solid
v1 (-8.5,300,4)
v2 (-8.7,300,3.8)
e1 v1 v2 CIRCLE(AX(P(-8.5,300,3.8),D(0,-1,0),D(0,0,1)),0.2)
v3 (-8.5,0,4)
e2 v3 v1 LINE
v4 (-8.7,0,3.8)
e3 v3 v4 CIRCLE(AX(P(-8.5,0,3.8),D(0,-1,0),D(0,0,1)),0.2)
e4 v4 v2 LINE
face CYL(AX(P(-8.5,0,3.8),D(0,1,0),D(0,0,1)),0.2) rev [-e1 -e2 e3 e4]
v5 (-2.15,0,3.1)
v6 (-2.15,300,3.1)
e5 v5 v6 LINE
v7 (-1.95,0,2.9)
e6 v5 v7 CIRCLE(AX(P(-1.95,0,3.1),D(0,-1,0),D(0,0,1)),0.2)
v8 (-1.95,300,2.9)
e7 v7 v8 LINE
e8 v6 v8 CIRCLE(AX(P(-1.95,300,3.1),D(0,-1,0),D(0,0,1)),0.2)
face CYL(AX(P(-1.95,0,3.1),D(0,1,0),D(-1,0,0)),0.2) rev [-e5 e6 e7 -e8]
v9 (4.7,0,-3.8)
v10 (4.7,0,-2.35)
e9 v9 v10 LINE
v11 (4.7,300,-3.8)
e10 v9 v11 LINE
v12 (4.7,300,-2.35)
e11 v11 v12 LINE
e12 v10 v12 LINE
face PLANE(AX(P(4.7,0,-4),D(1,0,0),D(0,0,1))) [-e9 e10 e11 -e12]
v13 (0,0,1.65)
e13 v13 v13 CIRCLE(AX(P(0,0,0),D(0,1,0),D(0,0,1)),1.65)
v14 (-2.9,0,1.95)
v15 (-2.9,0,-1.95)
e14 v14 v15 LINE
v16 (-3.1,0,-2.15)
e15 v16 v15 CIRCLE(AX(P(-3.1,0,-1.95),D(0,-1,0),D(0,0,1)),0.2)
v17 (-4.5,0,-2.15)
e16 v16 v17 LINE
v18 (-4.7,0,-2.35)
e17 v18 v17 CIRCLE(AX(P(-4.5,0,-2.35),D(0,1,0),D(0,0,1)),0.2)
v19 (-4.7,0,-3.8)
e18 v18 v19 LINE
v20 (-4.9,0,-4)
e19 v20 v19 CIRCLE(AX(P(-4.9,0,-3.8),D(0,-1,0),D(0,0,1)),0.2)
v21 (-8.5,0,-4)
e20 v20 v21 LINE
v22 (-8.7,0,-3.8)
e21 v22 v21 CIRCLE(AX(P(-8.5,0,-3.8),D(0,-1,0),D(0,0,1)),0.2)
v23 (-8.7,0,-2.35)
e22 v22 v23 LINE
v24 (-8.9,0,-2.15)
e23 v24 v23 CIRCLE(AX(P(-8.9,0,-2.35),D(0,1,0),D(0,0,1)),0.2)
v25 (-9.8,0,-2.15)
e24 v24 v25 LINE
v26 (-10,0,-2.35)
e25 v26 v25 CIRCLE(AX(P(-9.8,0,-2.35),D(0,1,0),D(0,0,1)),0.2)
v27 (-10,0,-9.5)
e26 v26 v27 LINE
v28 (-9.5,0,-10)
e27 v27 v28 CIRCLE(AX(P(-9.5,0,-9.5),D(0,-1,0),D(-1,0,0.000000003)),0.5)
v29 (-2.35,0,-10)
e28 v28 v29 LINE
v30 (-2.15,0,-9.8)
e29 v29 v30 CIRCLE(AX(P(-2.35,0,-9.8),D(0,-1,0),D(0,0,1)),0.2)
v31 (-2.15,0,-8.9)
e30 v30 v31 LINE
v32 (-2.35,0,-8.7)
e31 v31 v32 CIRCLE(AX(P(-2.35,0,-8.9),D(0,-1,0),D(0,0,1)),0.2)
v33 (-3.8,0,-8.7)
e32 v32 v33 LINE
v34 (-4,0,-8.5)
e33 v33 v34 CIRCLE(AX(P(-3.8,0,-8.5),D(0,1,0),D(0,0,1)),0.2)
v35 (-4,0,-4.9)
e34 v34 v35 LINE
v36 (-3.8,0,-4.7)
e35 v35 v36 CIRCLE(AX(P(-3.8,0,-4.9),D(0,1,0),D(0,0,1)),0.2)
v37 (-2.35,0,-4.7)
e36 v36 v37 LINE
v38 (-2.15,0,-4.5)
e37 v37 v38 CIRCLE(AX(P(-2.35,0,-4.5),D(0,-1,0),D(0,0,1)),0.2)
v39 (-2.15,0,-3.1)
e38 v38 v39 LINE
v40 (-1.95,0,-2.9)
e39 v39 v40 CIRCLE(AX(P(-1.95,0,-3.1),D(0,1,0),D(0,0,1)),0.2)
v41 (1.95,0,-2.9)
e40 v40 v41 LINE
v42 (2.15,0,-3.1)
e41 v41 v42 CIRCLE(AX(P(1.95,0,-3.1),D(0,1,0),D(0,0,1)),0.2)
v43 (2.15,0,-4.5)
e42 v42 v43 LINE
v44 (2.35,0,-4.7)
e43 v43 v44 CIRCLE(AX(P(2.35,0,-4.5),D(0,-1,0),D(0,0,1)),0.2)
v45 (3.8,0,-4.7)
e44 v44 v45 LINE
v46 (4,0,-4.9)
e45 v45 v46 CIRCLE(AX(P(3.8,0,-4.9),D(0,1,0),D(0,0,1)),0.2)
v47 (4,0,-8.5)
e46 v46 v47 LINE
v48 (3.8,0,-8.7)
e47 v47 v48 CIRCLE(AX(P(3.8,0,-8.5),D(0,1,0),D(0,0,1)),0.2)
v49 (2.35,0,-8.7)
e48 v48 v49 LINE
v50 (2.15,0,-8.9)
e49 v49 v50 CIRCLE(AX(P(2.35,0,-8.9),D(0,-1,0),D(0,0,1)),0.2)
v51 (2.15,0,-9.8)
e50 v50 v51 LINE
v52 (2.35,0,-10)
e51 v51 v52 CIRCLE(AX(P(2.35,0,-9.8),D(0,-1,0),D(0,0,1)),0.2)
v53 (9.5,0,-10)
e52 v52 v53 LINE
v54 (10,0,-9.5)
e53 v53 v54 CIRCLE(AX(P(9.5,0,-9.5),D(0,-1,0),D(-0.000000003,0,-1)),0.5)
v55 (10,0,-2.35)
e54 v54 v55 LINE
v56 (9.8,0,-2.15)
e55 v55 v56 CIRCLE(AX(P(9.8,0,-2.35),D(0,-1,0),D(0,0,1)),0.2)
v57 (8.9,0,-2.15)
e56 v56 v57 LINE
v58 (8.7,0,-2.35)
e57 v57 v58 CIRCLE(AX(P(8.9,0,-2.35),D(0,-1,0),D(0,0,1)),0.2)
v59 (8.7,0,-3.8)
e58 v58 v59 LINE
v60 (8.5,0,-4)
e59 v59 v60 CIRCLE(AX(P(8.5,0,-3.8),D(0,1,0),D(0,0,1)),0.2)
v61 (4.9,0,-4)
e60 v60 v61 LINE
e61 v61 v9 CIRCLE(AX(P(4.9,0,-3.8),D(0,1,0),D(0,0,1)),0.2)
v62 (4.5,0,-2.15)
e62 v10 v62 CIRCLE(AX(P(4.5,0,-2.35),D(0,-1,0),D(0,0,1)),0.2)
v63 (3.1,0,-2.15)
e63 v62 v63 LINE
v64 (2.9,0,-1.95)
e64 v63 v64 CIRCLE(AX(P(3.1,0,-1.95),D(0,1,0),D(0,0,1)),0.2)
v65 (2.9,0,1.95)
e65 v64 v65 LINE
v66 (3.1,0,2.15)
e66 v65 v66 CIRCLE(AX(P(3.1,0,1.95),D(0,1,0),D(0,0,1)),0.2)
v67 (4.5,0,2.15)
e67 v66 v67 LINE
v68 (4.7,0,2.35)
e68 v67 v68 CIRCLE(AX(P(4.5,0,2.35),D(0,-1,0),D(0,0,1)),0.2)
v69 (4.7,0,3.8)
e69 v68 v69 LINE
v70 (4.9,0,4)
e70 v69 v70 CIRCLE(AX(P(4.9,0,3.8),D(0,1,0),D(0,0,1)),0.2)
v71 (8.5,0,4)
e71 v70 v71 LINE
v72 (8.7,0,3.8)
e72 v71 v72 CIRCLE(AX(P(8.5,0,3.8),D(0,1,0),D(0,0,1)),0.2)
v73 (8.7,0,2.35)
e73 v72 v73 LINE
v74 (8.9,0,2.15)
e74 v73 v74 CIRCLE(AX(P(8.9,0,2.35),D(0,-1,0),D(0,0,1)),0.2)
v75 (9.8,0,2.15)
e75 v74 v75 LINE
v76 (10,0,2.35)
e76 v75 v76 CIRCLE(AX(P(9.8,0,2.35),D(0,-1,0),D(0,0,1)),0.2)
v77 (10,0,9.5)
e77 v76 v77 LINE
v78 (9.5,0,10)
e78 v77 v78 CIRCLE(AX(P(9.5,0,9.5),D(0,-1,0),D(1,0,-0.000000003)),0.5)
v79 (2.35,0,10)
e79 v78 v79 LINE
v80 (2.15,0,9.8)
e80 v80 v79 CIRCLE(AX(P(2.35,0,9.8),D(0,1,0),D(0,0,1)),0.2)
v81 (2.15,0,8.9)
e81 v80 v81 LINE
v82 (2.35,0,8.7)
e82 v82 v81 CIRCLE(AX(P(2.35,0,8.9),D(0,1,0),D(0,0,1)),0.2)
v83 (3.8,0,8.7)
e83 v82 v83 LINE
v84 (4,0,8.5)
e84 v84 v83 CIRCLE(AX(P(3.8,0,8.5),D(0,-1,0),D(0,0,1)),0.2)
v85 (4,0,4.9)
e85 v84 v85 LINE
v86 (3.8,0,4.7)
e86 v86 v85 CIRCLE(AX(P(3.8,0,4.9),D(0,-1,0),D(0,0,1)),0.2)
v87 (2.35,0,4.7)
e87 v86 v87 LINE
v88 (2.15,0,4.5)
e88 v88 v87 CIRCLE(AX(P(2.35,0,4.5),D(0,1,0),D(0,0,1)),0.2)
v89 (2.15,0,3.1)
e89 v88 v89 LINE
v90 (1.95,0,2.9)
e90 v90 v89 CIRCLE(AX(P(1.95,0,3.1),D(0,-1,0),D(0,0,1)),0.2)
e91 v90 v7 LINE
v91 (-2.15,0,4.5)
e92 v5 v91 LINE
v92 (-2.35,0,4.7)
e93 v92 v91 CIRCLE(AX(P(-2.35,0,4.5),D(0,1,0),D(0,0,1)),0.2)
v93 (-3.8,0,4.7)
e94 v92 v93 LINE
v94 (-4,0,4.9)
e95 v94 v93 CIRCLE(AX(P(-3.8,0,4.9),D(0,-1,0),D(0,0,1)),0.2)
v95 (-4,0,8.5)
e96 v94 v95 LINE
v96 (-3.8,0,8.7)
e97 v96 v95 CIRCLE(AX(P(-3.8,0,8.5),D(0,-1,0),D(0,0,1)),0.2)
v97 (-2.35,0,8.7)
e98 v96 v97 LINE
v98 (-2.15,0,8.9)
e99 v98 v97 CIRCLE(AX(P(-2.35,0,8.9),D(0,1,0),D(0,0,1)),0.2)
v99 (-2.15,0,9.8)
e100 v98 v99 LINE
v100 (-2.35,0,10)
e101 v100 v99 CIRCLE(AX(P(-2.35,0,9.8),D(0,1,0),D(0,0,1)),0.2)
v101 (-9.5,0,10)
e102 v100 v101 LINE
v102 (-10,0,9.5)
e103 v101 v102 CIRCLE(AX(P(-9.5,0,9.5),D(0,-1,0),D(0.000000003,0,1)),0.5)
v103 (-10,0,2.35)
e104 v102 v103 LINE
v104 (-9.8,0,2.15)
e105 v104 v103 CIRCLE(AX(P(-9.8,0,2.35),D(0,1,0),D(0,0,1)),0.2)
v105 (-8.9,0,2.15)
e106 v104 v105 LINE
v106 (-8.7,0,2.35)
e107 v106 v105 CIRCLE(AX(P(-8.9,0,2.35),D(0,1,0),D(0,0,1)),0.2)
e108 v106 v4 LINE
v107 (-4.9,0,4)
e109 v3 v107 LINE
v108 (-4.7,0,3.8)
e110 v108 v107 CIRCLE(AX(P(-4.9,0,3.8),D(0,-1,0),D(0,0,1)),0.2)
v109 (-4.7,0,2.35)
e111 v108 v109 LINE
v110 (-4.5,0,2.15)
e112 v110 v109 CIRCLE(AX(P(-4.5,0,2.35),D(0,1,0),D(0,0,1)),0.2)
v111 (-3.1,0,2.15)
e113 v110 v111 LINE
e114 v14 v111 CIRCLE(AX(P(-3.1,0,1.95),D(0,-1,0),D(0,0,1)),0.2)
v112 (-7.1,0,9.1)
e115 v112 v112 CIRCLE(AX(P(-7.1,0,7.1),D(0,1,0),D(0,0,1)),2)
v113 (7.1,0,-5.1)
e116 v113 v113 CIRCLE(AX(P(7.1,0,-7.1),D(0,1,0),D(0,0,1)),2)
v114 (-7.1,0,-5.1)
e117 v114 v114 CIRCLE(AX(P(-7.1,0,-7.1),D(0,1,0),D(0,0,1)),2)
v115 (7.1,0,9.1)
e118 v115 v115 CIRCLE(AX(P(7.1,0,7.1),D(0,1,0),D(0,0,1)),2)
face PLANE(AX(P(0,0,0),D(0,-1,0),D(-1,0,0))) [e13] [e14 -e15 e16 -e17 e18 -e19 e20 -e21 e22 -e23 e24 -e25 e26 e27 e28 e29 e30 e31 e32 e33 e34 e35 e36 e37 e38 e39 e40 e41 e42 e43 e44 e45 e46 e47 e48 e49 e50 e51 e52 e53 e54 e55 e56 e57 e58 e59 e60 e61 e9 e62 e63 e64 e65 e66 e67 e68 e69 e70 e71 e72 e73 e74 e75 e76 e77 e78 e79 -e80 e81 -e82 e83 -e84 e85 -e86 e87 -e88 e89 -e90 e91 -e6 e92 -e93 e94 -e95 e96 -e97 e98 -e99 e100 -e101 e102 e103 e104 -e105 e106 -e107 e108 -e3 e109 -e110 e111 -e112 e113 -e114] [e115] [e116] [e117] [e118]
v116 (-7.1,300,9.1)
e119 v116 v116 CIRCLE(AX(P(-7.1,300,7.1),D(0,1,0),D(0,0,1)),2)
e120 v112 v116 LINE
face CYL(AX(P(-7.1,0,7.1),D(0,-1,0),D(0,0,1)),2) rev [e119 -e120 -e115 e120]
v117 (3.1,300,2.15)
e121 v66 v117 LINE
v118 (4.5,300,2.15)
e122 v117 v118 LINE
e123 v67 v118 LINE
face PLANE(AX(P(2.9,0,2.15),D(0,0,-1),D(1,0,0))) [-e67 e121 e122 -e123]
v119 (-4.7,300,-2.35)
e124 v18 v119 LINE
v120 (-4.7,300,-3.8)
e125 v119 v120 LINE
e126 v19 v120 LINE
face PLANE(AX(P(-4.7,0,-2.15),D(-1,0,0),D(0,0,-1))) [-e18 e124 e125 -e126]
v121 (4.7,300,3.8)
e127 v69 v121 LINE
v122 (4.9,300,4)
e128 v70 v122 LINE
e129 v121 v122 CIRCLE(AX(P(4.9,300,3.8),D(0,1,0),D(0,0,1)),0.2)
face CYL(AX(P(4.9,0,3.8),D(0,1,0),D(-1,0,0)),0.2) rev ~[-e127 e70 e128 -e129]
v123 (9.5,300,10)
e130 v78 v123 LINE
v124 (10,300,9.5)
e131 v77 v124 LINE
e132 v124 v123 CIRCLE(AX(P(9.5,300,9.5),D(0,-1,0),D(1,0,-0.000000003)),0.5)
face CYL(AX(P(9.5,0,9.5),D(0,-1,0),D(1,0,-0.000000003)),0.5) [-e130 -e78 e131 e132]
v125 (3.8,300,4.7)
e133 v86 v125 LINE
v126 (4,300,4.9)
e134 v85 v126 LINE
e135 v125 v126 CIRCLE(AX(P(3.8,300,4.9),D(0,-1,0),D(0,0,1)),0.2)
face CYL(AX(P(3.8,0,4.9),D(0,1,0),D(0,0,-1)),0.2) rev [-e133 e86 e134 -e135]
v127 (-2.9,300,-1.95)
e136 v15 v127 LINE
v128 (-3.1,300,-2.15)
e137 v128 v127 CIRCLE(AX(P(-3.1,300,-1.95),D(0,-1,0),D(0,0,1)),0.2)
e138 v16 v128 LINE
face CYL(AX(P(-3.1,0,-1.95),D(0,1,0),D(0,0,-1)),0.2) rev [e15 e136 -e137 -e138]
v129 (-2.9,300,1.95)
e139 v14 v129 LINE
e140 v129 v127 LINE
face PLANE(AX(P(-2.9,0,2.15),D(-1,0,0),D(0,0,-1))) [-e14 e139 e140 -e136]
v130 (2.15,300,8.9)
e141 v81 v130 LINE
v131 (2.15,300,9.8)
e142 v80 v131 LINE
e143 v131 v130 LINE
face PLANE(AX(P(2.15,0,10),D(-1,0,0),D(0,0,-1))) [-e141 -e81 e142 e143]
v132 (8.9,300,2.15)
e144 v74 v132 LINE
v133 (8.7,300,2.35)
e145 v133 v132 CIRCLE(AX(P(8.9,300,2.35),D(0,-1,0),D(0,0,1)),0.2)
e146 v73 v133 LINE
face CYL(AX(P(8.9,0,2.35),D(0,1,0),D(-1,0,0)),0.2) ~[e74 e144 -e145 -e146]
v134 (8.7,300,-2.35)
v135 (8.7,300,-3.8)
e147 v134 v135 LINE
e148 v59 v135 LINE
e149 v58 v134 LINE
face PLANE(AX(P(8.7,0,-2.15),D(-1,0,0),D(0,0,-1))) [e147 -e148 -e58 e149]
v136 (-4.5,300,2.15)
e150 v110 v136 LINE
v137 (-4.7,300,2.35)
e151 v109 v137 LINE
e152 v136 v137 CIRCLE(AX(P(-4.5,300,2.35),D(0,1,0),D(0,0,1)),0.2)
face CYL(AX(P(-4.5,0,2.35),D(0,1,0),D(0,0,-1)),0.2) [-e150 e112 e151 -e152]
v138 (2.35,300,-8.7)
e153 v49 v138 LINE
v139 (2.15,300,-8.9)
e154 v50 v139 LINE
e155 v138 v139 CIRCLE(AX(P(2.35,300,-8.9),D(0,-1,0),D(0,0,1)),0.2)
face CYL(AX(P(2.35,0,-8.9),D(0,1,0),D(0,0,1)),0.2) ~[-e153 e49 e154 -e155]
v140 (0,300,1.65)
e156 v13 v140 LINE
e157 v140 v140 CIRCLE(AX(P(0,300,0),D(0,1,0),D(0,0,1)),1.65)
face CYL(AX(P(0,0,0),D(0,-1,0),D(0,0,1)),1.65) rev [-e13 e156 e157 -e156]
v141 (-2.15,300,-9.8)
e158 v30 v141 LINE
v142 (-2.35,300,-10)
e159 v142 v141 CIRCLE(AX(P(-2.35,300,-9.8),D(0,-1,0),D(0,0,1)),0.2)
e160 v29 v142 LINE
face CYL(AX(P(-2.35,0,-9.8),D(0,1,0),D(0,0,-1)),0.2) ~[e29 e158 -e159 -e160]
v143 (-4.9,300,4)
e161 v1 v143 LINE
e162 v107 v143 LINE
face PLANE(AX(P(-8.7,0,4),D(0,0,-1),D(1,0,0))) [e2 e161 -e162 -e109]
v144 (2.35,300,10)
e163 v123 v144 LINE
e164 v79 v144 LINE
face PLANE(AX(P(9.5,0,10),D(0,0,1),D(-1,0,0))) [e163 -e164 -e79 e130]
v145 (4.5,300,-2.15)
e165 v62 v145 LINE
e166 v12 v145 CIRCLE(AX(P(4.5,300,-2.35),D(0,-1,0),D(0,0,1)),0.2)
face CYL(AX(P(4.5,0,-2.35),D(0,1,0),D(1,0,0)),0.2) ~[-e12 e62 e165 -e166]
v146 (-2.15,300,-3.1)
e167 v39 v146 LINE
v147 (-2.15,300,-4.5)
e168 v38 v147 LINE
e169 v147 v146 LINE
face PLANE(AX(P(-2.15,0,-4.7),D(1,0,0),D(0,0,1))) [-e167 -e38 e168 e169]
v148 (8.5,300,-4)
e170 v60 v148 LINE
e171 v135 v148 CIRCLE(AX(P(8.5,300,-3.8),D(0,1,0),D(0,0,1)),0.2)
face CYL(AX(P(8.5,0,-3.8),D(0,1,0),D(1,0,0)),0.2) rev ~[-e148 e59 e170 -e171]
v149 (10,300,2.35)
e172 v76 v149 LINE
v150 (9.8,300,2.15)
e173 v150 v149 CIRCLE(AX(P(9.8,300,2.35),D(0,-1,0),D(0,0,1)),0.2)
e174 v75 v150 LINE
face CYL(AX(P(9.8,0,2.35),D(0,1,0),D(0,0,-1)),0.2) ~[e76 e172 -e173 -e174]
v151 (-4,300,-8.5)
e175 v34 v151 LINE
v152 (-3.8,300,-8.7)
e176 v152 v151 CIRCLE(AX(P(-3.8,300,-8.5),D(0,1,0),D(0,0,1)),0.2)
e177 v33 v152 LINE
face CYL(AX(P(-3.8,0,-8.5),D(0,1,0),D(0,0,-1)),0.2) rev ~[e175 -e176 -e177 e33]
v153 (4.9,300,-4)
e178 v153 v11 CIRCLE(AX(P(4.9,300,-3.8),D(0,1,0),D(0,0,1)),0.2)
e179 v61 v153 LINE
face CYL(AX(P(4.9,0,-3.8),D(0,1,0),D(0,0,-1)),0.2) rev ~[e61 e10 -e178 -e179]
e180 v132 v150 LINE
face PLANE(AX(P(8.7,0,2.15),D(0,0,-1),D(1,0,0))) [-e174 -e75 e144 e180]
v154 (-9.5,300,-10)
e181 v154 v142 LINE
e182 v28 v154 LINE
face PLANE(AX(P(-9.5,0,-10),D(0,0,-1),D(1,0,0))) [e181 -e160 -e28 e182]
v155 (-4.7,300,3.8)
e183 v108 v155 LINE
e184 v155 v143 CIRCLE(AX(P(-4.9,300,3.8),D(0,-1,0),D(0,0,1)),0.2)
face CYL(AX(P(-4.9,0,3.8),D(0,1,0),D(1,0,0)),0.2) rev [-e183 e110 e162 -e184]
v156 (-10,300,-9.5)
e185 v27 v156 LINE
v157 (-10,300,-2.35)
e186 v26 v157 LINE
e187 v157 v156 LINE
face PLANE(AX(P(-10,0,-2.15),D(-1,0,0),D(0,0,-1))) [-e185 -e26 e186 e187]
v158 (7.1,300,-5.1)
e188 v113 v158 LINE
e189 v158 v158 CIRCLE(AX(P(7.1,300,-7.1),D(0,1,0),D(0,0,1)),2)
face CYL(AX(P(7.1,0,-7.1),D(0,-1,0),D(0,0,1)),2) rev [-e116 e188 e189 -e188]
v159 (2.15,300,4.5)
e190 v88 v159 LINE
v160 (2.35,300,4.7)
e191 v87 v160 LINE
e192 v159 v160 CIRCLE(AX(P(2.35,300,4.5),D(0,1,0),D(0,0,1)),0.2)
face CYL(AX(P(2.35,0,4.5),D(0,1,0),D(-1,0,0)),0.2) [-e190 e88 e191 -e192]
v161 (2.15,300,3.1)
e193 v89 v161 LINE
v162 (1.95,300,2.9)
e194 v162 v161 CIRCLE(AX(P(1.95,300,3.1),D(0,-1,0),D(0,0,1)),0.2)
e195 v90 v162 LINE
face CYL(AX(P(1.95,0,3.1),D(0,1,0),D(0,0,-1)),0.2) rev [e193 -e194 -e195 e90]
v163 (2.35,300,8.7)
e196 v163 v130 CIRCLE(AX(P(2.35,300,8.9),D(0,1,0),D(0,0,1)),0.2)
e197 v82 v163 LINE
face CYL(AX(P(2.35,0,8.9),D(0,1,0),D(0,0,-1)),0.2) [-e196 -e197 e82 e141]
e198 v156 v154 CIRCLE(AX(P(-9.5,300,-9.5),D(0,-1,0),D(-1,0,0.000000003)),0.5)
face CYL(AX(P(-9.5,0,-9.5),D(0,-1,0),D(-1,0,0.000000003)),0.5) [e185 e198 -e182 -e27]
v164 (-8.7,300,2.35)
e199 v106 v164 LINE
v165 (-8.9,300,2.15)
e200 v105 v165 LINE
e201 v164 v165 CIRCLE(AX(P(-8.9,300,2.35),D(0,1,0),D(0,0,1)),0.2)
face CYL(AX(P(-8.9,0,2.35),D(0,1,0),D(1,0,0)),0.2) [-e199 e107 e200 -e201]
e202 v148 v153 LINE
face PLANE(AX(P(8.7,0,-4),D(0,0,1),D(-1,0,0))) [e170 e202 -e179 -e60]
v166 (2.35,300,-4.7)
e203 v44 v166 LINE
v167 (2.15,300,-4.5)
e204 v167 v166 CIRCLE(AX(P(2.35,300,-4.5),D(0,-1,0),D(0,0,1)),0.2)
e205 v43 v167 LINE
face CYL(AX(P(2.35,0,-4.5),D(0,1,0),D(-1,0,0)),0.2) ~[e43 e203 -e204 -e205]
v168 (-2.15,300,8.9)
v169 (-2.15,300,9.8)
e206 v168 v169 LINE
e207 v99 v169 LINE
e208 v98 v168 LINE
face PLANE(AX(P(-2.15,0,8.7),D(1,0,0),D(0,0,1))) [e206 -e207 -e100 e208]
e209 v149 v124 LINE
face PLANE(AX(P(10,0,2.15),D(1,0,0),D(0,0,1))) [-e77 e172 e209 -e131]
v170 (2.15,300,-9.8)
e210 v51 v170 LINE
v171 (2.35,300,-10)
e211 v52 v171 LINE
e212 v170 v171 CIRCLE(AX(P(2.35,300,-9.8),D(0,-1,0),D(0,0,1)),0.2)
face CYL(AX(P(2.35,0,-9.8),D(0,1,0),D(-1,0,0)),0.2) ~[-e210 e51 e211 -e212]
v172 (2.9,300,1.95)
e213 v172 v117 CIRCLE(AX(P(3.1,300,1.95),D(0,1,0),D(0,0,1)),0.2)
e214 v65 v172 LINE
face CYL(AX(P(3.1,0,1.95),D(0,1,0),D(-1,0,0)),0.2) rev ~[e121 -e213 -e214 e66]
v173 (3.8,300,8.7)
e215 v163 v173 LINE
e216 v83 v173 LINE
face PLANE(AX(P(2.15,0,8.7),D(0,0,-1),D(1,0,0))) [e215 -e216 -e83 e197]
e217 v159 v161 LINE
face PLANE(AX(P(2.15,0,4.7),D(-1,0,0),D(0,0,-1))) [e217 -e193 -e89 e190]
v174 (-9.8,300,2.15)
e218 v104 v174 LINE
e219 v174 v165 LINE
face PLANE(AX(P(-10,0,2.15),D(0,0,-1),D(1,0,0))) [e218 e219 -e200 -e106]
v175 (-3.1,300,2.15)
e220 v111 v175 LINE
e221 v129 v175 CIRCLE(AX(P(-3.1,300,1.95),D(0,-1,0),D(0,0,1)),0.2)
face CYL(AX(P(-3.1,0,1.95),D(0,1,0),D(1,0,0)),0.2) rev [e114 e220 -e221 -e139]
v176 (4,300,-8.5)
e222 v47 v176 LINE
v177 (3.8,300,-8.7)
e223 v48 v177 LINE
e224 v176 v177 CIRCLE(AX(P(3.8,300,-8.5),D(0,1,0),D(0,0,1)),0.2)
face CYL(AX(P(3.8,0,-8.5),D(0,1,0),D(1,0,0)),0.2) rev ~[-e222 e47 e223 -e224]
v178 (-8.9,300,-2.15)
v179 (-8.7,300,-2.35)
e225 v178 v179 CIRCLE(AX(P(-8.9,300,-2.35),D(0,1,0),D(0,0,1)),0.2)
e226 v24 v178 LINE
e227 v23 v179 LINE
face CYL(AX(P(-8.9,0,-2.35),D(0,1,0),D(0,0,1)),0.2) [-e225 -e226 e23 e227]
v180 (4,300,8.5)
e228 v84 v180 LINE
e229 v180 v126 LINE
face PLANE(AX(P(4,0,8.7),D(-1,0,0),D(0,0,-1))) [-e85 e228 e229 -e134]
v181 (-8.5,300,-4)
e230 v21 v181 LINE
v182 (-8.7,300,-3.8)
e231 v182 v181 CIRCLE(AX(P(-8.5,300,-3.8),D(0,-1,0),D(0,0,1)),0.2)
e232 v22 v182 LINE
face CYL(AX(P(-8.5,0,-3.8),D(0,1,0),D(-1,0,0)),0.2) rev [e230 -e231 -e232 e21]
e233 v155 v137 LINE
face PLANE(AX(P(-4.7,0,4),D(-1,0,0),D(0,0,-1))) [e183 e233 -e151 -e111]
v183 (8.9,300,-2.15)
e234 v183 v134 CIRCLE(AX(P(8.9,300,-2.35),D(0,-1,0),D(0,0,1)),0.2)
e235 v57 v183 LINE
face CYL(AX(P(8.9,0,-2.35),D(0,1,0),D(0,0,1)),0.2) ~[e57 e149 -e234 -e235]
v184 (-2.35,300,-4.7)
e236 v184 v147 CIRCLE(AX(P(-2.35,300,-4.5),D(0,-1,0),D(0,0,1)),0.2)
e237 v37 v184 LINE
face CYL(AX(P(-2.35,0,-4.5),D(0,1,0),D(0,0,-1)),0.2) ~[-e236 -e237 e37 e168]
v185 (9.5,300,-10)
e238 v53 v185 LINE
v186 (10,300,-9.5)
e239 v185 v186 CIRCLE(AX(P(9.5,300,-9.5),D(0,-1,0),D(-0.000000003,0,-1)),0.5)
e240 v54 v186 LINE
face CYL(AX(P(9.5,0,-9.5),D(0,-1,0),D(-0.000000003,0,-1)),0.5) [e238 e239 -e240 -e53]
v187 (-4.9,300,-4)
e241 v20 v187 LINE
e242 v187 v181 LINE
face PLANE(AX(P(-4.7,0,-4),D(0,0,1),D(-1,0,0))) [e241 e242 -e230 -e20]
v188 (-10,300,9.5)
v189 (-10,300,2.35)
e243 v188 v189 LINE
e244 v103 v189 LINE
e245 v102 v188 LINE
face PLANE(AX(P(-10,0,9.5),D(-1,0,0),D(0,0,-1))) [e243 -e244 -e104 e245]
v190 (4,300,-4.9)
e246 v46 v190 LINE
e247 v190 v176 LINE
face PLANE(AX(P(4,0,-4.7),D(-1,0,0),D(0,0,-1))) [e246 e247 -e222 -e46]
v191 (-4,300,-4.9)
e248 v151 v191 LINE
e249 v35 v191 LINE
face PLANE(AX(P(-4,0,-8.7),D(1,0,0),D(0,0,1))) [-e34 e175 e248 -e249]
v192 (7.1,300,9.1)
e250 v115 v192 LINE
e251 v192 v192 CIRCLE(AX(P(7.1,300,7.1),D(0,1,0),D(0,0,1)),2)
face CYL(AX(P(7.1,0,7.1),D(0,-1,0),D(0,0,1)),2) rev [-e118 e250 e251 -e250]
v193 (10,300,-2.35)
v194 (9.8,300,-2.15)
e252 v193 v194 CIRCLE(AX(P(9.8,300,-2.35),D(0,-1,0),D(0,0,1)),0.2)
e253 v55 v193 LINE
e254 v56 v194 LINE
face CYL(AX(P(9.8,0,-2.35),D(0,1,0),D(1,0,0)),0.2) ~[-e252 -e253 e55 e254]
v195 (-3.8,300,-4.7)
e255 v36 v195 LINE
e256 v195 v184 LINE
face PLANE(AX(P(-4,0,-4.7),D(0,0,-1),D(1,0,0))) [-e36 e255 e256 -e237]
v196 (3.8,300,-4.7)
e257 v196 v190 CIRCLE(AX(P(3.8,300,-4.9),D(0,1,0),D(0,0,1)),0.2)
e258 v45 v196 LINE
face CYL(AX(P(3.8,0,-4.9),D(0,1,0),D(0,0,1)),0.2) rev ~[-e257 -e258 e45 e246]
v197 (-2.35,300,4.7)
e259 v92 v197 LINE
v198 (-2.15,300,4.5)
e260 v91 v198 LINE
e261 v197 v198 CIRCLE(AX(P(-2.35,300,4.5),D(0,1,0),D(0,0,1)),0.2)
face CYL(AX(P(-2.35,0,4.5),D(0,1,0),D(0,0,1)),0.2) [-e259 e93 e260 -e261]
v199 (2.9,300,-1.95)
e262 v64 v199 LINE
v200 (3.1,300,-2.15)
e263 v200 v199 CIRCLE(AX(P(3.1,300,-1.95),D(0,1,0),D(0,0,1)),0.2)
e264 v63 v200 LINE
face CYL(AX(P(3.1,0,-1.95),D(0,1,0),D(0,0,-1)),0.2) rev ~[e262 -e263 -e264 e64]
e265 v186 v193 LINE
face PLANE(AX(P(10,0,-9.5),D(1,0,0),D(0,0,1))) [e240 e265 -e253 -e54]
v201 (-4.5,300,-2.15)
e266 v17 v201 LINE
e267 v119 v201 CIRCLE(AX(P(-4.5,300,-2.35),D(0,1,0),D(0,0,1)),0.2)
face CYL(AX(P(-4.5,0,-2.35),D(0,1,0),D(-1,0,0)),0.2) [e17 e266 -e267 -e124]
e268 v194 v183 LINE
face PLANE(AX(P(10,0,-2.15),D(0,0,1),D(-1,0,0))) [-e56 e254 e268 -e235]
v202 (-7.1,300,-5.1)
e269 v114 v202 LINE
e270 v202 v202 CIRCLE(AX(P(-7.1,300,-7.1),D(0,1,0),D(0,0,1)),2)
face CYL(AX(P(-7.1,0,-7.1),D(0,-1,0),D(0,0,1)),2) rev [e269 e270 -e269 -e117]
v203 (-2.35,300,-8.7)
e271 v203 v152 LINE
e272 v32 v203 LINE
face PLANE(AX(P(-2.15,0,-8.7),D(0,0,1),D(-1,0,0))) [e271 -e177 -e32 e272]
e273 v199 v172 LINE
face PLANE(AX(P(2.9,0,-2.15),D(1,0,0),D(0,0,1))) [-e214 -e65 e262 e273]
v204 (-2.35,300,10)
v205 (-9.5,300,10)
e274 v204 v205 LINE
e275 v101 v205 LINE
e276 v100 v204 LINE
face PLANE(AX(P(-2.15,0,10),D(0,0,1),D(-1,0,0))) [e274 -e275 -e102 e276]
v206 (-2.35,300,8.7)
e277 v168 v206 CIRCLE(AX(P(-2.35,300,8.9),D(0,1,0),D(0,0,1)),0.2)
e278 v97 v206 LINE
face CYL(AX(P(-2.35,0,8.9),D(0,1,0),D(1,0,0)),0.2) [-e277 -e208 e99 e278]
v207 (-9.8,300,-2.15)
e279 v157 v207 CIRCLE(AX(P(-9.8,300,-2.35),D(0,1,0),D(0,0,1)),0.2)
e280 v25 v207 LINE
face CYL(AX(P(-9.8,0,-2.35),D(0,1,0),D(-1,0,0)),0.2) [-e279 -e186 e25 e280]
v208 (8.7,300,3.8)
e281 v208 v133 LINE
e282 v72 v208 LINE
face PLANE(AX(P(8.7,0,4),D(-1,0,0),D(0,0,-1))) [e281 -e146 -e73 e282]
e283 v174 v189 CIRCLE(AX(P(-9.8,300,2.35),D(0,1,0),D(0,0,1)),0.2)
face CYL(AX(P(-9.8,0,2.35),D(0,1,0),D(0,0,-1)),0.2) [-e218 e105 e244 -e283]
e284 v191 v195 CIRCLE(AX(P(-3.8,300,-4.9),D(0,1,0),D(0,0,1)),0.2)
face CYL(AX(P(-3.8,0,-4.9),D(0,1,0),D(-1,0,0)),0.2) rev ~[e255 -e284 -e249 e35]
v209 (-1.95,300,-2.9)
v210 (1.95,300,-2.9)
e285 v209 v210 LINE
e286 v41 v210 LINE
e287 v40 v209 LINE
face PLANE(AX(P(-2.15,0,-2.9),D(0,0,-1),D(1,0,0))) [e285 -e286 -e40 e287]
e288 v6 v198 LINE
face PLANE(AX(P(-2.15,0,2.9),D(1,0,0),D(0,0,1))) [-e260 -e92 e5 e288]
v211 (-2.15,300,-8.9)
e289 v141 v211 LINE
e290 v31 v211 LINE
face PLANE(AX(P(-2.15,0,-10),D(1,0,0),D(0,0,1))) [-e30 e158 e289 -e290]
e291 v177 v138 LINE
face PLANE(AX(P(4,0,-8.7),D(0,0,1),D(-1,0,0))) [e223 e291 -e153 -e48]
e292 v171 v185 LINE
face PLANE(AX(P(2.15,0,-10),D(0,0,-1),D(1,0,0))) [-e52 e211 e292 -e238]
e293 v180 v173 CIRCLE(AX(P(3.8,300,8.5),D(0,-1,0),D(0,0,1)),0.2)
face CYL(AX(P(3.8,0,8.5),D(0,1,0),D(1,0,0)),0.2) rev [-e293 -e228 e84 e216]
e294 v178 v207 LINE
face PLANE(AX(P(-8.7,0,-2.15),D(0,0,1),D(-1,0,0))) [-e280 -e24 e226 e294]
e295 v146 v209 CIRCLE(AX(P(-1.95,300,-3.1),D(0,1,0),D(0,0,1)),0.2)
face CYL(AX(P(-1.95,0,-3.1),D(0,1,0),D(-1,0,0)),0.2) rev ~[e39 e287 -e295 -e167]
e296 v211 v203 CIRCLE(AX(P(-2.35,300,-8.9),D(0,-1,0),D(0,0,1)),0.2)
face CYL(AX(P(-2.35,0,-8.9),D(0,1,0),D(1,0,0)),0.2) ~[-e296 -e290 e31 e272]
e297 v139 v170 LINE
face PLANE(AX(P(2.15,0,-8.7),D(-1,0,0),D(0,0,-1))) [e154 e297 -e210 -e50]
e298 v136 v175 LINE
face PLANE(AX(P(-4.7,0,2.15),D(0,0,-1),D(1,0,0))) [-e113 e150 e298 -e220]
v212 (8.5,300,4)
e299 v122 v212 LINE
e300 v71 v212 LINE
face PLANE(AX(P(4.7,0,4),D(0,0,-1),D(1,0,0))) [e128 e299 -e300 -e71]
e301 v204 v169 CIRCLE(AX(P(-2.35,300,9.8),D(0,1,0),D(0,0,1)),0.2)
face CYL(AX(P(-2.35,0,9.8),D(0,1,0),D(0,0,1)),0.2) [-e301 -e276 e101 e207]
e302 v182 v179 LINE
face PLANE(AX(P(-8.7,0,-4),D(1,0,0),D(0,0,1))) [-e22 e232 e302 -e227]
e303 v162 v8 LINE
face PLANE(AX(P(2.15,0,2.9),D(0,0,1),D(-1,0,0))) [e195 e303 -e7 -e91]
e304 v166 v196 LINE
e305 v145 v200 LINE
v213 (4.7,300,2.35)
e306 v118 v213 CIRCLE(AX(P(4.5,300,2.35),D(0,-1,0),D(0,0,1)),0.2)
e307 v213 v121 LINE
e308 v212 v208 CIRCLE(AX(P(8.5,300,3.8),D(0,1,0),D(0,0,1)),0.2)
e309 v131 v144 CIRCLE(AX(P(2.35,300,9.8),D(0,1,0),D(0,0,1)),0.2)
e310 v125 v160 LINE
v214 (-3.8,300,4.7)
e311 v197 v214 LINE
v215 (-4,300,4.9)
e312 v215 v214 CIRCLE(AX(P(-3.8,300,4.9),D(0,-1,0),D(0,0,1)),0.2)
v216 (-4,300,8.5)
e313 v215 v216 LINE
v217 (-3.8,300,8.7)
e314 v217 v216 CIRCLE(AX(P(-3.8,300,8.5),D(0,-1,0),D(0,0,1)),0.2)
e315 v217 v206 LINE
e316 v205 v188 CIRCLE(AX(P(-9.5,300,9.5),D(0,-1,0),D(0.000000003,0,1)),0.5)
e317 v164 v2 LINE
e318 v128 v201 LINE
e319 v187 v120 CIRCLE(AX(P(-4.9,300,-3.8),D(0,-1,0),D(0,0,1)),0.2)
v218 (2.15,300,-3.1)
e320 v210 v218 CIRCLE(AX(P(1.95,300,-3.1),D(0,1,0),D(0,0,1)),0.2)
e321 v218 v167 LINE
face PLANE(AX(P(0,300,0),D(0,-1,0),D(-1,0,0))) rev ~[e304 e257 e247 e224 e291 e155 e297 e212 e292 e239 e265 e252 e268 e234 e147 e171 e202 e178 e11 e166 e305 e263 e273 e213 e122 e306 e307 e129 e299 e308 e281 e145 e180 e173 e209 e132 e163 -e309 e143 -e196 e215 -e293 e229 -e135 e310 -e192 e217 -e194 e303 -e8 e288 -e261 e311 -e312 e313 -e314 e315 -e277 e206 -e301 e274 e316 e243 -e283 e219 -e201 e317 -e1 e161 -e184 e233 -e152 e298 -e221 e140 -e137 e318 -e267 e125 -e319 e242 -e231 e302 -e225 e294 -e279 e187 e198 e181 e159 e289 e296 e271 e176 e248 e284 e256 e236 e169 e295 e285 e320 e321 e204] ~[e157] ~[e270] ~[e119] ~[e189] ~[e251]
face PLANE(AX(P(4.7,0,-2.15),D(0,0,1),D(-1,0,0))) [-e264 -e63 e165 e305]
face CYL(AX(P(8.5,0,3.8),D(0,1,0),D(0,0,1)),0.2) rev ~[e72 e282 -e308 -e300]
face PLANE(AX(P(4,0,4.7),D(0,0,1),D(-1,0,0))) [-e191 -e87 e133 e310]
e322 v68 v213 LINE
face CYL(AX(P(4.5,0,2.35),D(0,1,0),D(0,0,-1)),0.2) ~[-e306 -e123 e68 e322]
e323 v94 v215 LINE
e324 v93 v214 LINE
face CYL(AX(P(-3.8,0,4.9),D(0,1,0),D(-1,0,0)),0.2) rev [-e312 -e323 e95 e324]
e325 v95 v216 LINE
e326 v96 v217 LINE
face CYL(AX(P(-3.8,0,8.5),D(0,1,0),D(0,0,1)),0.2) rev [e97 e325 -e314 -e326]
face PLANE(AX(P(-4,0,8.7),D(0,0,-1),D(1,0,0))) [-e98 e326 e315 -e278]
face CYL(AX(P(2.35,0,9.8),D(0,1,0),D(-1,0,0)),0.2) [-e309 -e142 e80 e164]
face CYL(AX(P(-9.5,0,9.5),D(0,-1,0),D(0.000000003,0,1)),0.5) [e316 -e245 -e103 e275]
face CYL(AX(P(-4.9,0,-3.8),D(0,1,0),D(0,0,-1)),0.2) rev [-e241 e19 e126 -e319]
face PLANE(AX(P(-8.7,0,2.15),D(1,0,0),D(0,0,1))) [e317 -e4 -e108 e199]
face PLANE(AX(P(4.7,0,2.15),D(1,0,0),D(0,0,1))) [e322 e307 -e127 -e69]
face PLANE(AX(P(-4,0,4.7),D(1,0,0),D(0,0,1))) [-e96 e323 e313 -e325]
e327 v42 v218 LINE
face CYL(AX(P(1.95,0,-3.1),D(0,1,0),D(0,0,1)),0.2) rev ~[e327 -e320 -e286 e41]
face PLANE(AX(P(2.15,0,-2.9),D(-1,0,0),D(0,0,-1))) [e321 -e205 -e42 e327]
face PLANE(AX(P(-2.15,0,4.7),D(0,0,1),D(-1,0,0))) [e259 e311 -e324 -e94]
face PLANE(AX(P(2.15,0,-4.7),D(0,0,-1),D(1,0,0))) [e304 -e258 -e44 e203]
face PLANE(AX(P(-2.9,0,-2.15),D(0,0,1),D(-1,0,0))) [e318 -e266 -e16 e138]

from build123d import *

# Parameters (mm, degrees)
SKETCH_1_R      = 2
SKETCH_1_R_2    = 1.65
EXTRUDE_1_DEPTH = 300
FILLET_1_R      = 0.2


with BuildPart() as part:
    # 草图1 → 凸台-拉伸1 (new body)
    with BuildSketch(Plane(origin=(0, 0, 0), x_dir=(1, 0, 0), z_dir=(0, 1, 0))):
        with BuildLine():
            Line((-9.5, 10), (-2.15, 10))
            Line((-2.15, 10), (-2.15, 8.7))
            Line((-2.15, 8.7), (-4, 8.7))
            Line((-4, 8.7), (-4, 4.7))
            Line((-4, 4.7), (-2.15, 4.7))
            Line((-2.15, 4.7), (-2.15, 2.9))
            Line((-2.15, 2.9), (0, 2.9))
            Line((0, 2.9), (2.15, 2.9))
            Line((2.15, 2.9), (2.15, 4.7))
            Line((2.15, 4.7), (4, 4.7))
            Line((4, 4.7), (4, 8.7))
            Line((4, 8.7), (2.15, 8.7))
            Line((2.15, 8.7), (2.15, 10))
            Line((2.15, 10), (9.5, 10))
            ThreePointArc((9.5, 10), (9.853553391, 9.853553391), (10, 9.5))
            Line((10, 9.5), (10, 2.15))
            Line((10, 2.15), (8.7, 2.15))
            Line((8.7, 2.15), (8.7, 4))
            Line((8.7, 4), (4.7, 4))
            Line((4.7, 4), (4.7, 2.15))
            Line((4.7, 2.15), (2.9, 2.15))
            Line((2.9, 2.15), (2.9, 0))
            Line((2.9, 0), (2.9, -2.15))
            Line((2.9, -2.15), (4.7, -2.15))
            Line((4.7, -2.15), (4.7, -4))
            Line((4.7, -4), (8.7, -4))
            Line((8.7, -4), (8.7, -2.15))
            Line((8.7, -2.15), (10, -2.15))
            Line((10, -2.15), (10, -9.5))
            ThreePointArc((10, -9.5), (9.853553391, -9.853553391), (9.5, -10))
            Line((9.5, -10), (2.15, -10))
            Line((2.15, -10), (2.15, -8.7))
            Line((2.15, -8.7), (4, -8.7))
            Line((4, -8.7), (4, -4.7))
            Line((4, -4.7), (2.15, -4.7))
            Line((2.15, -4.7), (2.15, -2.9))
            Line((2.15, -2.9), (0, -2.9))
            Line((0, -2.9), (-2.15, -2.9))
            Line((-2.15, -2.9), (-2.15, -4.7))
            Line((-2.15, -4.7), (-4, -4.7))
            Line((-4, -4.7), (-4, -8.7))
            Line((-4, -8.7), (-2.15, -8.7))
            Line((-2.15, -8.7), (-2.15, -10))
            Line((-2.15, -10), (-9.5, -10))
            ThreePointArc((-9.5, -10), (-9.853553391, -9.853553391), (-10, -9.5))
            Line((-10, -9.5), (-10, -2.15))
            Line((-10, -2.15), (-8.7, -2.15))
            Line((-8.7, -2.15), (-8.7, -4))
            Line((-8.7, -4), (-4.7, -4))
            Line((-4.7, -4), (-4.7, -2.15))
            Line((-4.7, -2.15), (-2.9, -2.15))
            Line((-2.9, -2.15), (-2.9, 0))
            Line((-2.9, 0), (-2.9, 2.15))
            Line((-2.9, 2.15), (-4.7, 2.15))
            Line((-4.7, 2.15), (-4.7, 4))
            Line((-4.7, 4), (-8.7, 4))
            Line((-8.7, 4), (-8.7, 2.15))
            Line((-8.7, 2.15), (-10, 2.15))
            Line((-10, 2.15), (-10, 9.5))
            ThreePointArc((-10, 9.5), (-9.853553391, 9.853553391), (-9.5, 10))
        make_face()
        with Locations(Location((-7.1, 7.1, 0), (0, 0, 270))):
            Circle(SKETCH_1_R, mode=Mode.SUBTRACT)
        with Locations(Location((7.1, 7.1, 0), (0, 0, 270))):
            Circle(SKETCH_1_R, mode=Mode.SUBTRACT)
        with Locations(Location((7.1, -7.1, 0), (0, 0, 270))):
            Circle(SKETCH_1_R, mode=Mode.SUBTRACT)
        with Locations(Location((-7.1, -7.1, 0), (0, 0, 270))):
            Circle(SKETCH_1_R, mode=Mode.SUBTRACT)
        with Locations(Location((0, 0, 0), (0, 0, 270))):
            Circle(SKETCH_1_R_2, mode=Mode.SUBTRACT)
    extrude(amount=EXTRUDE_1_DEPTH)

    # 圆角1
    fillet_1_edges = [part.edges().sort_by_distance(p)[0] for p in [
        (8.7, 150, 2.15),
        (10, 150, 2.15),
        (2.15, 150, 10),
        (2.15, 150, 8.7),
        (4, 150, 8.7),
        (4, 150, 4.7),
        (2.15, 150, 4.7),
        (2.15, 150, 2.9),
        (-2.15, 150, 2.9),
        (-2.15, 150, 4.7),
        (-4, 150, 4.7),
        (-4, 150, 8.7),
        (-2.15, 150, 8.7),
        (-2.15, 150, 10),
        (-10, 150, 2.15),
        (-8.7, 150, 2.15),
        (-8.7, 150, 4),
        (-4.7, 150, 4),
        (-4.7, 150, 2.15),
        (-2.9, 150, 2.15),
        (-2.9, 150, -2.15),
        (-4.7, 150, -2.15),
        (-4.7, 150, -4),
        (-8.7, 150, -4),
        (-8.7, 150, -2.15),
        (-10, 150, -2.15),
        (-2.15, 150, -10),
        (-2.15, 150, -8.7),
        (-4, 150, -8.7),
        (-4, 150, -4.7),
        (-2.15, 150, -4.7),
        (-2.15, 150, -2.9),
        (2.15, 150, -2.9),
        (2.15, 150, -4.7),
        (4, 150, -4.7),
        (4, 150, -8.7),
        (2.15, 150, -8.7),
        (2.15, 150, -10),
        (10, 150, -2.15),
        (8.7, 150, -2.15),
        (8.7, 150, -4),
        (4.7, 150, -4),
        (4.7, 150, -2.15),
        (2.9, 150, -2.15),
        (2.9, 150, 2.15),
        (4.7, 150, 2.15),
        (4.7, 150, 4),
        (8.7, 150, 4),
    ]]
    fillet(fillet_1_edges, radius=FILLET_1_R)


solid = part.part
